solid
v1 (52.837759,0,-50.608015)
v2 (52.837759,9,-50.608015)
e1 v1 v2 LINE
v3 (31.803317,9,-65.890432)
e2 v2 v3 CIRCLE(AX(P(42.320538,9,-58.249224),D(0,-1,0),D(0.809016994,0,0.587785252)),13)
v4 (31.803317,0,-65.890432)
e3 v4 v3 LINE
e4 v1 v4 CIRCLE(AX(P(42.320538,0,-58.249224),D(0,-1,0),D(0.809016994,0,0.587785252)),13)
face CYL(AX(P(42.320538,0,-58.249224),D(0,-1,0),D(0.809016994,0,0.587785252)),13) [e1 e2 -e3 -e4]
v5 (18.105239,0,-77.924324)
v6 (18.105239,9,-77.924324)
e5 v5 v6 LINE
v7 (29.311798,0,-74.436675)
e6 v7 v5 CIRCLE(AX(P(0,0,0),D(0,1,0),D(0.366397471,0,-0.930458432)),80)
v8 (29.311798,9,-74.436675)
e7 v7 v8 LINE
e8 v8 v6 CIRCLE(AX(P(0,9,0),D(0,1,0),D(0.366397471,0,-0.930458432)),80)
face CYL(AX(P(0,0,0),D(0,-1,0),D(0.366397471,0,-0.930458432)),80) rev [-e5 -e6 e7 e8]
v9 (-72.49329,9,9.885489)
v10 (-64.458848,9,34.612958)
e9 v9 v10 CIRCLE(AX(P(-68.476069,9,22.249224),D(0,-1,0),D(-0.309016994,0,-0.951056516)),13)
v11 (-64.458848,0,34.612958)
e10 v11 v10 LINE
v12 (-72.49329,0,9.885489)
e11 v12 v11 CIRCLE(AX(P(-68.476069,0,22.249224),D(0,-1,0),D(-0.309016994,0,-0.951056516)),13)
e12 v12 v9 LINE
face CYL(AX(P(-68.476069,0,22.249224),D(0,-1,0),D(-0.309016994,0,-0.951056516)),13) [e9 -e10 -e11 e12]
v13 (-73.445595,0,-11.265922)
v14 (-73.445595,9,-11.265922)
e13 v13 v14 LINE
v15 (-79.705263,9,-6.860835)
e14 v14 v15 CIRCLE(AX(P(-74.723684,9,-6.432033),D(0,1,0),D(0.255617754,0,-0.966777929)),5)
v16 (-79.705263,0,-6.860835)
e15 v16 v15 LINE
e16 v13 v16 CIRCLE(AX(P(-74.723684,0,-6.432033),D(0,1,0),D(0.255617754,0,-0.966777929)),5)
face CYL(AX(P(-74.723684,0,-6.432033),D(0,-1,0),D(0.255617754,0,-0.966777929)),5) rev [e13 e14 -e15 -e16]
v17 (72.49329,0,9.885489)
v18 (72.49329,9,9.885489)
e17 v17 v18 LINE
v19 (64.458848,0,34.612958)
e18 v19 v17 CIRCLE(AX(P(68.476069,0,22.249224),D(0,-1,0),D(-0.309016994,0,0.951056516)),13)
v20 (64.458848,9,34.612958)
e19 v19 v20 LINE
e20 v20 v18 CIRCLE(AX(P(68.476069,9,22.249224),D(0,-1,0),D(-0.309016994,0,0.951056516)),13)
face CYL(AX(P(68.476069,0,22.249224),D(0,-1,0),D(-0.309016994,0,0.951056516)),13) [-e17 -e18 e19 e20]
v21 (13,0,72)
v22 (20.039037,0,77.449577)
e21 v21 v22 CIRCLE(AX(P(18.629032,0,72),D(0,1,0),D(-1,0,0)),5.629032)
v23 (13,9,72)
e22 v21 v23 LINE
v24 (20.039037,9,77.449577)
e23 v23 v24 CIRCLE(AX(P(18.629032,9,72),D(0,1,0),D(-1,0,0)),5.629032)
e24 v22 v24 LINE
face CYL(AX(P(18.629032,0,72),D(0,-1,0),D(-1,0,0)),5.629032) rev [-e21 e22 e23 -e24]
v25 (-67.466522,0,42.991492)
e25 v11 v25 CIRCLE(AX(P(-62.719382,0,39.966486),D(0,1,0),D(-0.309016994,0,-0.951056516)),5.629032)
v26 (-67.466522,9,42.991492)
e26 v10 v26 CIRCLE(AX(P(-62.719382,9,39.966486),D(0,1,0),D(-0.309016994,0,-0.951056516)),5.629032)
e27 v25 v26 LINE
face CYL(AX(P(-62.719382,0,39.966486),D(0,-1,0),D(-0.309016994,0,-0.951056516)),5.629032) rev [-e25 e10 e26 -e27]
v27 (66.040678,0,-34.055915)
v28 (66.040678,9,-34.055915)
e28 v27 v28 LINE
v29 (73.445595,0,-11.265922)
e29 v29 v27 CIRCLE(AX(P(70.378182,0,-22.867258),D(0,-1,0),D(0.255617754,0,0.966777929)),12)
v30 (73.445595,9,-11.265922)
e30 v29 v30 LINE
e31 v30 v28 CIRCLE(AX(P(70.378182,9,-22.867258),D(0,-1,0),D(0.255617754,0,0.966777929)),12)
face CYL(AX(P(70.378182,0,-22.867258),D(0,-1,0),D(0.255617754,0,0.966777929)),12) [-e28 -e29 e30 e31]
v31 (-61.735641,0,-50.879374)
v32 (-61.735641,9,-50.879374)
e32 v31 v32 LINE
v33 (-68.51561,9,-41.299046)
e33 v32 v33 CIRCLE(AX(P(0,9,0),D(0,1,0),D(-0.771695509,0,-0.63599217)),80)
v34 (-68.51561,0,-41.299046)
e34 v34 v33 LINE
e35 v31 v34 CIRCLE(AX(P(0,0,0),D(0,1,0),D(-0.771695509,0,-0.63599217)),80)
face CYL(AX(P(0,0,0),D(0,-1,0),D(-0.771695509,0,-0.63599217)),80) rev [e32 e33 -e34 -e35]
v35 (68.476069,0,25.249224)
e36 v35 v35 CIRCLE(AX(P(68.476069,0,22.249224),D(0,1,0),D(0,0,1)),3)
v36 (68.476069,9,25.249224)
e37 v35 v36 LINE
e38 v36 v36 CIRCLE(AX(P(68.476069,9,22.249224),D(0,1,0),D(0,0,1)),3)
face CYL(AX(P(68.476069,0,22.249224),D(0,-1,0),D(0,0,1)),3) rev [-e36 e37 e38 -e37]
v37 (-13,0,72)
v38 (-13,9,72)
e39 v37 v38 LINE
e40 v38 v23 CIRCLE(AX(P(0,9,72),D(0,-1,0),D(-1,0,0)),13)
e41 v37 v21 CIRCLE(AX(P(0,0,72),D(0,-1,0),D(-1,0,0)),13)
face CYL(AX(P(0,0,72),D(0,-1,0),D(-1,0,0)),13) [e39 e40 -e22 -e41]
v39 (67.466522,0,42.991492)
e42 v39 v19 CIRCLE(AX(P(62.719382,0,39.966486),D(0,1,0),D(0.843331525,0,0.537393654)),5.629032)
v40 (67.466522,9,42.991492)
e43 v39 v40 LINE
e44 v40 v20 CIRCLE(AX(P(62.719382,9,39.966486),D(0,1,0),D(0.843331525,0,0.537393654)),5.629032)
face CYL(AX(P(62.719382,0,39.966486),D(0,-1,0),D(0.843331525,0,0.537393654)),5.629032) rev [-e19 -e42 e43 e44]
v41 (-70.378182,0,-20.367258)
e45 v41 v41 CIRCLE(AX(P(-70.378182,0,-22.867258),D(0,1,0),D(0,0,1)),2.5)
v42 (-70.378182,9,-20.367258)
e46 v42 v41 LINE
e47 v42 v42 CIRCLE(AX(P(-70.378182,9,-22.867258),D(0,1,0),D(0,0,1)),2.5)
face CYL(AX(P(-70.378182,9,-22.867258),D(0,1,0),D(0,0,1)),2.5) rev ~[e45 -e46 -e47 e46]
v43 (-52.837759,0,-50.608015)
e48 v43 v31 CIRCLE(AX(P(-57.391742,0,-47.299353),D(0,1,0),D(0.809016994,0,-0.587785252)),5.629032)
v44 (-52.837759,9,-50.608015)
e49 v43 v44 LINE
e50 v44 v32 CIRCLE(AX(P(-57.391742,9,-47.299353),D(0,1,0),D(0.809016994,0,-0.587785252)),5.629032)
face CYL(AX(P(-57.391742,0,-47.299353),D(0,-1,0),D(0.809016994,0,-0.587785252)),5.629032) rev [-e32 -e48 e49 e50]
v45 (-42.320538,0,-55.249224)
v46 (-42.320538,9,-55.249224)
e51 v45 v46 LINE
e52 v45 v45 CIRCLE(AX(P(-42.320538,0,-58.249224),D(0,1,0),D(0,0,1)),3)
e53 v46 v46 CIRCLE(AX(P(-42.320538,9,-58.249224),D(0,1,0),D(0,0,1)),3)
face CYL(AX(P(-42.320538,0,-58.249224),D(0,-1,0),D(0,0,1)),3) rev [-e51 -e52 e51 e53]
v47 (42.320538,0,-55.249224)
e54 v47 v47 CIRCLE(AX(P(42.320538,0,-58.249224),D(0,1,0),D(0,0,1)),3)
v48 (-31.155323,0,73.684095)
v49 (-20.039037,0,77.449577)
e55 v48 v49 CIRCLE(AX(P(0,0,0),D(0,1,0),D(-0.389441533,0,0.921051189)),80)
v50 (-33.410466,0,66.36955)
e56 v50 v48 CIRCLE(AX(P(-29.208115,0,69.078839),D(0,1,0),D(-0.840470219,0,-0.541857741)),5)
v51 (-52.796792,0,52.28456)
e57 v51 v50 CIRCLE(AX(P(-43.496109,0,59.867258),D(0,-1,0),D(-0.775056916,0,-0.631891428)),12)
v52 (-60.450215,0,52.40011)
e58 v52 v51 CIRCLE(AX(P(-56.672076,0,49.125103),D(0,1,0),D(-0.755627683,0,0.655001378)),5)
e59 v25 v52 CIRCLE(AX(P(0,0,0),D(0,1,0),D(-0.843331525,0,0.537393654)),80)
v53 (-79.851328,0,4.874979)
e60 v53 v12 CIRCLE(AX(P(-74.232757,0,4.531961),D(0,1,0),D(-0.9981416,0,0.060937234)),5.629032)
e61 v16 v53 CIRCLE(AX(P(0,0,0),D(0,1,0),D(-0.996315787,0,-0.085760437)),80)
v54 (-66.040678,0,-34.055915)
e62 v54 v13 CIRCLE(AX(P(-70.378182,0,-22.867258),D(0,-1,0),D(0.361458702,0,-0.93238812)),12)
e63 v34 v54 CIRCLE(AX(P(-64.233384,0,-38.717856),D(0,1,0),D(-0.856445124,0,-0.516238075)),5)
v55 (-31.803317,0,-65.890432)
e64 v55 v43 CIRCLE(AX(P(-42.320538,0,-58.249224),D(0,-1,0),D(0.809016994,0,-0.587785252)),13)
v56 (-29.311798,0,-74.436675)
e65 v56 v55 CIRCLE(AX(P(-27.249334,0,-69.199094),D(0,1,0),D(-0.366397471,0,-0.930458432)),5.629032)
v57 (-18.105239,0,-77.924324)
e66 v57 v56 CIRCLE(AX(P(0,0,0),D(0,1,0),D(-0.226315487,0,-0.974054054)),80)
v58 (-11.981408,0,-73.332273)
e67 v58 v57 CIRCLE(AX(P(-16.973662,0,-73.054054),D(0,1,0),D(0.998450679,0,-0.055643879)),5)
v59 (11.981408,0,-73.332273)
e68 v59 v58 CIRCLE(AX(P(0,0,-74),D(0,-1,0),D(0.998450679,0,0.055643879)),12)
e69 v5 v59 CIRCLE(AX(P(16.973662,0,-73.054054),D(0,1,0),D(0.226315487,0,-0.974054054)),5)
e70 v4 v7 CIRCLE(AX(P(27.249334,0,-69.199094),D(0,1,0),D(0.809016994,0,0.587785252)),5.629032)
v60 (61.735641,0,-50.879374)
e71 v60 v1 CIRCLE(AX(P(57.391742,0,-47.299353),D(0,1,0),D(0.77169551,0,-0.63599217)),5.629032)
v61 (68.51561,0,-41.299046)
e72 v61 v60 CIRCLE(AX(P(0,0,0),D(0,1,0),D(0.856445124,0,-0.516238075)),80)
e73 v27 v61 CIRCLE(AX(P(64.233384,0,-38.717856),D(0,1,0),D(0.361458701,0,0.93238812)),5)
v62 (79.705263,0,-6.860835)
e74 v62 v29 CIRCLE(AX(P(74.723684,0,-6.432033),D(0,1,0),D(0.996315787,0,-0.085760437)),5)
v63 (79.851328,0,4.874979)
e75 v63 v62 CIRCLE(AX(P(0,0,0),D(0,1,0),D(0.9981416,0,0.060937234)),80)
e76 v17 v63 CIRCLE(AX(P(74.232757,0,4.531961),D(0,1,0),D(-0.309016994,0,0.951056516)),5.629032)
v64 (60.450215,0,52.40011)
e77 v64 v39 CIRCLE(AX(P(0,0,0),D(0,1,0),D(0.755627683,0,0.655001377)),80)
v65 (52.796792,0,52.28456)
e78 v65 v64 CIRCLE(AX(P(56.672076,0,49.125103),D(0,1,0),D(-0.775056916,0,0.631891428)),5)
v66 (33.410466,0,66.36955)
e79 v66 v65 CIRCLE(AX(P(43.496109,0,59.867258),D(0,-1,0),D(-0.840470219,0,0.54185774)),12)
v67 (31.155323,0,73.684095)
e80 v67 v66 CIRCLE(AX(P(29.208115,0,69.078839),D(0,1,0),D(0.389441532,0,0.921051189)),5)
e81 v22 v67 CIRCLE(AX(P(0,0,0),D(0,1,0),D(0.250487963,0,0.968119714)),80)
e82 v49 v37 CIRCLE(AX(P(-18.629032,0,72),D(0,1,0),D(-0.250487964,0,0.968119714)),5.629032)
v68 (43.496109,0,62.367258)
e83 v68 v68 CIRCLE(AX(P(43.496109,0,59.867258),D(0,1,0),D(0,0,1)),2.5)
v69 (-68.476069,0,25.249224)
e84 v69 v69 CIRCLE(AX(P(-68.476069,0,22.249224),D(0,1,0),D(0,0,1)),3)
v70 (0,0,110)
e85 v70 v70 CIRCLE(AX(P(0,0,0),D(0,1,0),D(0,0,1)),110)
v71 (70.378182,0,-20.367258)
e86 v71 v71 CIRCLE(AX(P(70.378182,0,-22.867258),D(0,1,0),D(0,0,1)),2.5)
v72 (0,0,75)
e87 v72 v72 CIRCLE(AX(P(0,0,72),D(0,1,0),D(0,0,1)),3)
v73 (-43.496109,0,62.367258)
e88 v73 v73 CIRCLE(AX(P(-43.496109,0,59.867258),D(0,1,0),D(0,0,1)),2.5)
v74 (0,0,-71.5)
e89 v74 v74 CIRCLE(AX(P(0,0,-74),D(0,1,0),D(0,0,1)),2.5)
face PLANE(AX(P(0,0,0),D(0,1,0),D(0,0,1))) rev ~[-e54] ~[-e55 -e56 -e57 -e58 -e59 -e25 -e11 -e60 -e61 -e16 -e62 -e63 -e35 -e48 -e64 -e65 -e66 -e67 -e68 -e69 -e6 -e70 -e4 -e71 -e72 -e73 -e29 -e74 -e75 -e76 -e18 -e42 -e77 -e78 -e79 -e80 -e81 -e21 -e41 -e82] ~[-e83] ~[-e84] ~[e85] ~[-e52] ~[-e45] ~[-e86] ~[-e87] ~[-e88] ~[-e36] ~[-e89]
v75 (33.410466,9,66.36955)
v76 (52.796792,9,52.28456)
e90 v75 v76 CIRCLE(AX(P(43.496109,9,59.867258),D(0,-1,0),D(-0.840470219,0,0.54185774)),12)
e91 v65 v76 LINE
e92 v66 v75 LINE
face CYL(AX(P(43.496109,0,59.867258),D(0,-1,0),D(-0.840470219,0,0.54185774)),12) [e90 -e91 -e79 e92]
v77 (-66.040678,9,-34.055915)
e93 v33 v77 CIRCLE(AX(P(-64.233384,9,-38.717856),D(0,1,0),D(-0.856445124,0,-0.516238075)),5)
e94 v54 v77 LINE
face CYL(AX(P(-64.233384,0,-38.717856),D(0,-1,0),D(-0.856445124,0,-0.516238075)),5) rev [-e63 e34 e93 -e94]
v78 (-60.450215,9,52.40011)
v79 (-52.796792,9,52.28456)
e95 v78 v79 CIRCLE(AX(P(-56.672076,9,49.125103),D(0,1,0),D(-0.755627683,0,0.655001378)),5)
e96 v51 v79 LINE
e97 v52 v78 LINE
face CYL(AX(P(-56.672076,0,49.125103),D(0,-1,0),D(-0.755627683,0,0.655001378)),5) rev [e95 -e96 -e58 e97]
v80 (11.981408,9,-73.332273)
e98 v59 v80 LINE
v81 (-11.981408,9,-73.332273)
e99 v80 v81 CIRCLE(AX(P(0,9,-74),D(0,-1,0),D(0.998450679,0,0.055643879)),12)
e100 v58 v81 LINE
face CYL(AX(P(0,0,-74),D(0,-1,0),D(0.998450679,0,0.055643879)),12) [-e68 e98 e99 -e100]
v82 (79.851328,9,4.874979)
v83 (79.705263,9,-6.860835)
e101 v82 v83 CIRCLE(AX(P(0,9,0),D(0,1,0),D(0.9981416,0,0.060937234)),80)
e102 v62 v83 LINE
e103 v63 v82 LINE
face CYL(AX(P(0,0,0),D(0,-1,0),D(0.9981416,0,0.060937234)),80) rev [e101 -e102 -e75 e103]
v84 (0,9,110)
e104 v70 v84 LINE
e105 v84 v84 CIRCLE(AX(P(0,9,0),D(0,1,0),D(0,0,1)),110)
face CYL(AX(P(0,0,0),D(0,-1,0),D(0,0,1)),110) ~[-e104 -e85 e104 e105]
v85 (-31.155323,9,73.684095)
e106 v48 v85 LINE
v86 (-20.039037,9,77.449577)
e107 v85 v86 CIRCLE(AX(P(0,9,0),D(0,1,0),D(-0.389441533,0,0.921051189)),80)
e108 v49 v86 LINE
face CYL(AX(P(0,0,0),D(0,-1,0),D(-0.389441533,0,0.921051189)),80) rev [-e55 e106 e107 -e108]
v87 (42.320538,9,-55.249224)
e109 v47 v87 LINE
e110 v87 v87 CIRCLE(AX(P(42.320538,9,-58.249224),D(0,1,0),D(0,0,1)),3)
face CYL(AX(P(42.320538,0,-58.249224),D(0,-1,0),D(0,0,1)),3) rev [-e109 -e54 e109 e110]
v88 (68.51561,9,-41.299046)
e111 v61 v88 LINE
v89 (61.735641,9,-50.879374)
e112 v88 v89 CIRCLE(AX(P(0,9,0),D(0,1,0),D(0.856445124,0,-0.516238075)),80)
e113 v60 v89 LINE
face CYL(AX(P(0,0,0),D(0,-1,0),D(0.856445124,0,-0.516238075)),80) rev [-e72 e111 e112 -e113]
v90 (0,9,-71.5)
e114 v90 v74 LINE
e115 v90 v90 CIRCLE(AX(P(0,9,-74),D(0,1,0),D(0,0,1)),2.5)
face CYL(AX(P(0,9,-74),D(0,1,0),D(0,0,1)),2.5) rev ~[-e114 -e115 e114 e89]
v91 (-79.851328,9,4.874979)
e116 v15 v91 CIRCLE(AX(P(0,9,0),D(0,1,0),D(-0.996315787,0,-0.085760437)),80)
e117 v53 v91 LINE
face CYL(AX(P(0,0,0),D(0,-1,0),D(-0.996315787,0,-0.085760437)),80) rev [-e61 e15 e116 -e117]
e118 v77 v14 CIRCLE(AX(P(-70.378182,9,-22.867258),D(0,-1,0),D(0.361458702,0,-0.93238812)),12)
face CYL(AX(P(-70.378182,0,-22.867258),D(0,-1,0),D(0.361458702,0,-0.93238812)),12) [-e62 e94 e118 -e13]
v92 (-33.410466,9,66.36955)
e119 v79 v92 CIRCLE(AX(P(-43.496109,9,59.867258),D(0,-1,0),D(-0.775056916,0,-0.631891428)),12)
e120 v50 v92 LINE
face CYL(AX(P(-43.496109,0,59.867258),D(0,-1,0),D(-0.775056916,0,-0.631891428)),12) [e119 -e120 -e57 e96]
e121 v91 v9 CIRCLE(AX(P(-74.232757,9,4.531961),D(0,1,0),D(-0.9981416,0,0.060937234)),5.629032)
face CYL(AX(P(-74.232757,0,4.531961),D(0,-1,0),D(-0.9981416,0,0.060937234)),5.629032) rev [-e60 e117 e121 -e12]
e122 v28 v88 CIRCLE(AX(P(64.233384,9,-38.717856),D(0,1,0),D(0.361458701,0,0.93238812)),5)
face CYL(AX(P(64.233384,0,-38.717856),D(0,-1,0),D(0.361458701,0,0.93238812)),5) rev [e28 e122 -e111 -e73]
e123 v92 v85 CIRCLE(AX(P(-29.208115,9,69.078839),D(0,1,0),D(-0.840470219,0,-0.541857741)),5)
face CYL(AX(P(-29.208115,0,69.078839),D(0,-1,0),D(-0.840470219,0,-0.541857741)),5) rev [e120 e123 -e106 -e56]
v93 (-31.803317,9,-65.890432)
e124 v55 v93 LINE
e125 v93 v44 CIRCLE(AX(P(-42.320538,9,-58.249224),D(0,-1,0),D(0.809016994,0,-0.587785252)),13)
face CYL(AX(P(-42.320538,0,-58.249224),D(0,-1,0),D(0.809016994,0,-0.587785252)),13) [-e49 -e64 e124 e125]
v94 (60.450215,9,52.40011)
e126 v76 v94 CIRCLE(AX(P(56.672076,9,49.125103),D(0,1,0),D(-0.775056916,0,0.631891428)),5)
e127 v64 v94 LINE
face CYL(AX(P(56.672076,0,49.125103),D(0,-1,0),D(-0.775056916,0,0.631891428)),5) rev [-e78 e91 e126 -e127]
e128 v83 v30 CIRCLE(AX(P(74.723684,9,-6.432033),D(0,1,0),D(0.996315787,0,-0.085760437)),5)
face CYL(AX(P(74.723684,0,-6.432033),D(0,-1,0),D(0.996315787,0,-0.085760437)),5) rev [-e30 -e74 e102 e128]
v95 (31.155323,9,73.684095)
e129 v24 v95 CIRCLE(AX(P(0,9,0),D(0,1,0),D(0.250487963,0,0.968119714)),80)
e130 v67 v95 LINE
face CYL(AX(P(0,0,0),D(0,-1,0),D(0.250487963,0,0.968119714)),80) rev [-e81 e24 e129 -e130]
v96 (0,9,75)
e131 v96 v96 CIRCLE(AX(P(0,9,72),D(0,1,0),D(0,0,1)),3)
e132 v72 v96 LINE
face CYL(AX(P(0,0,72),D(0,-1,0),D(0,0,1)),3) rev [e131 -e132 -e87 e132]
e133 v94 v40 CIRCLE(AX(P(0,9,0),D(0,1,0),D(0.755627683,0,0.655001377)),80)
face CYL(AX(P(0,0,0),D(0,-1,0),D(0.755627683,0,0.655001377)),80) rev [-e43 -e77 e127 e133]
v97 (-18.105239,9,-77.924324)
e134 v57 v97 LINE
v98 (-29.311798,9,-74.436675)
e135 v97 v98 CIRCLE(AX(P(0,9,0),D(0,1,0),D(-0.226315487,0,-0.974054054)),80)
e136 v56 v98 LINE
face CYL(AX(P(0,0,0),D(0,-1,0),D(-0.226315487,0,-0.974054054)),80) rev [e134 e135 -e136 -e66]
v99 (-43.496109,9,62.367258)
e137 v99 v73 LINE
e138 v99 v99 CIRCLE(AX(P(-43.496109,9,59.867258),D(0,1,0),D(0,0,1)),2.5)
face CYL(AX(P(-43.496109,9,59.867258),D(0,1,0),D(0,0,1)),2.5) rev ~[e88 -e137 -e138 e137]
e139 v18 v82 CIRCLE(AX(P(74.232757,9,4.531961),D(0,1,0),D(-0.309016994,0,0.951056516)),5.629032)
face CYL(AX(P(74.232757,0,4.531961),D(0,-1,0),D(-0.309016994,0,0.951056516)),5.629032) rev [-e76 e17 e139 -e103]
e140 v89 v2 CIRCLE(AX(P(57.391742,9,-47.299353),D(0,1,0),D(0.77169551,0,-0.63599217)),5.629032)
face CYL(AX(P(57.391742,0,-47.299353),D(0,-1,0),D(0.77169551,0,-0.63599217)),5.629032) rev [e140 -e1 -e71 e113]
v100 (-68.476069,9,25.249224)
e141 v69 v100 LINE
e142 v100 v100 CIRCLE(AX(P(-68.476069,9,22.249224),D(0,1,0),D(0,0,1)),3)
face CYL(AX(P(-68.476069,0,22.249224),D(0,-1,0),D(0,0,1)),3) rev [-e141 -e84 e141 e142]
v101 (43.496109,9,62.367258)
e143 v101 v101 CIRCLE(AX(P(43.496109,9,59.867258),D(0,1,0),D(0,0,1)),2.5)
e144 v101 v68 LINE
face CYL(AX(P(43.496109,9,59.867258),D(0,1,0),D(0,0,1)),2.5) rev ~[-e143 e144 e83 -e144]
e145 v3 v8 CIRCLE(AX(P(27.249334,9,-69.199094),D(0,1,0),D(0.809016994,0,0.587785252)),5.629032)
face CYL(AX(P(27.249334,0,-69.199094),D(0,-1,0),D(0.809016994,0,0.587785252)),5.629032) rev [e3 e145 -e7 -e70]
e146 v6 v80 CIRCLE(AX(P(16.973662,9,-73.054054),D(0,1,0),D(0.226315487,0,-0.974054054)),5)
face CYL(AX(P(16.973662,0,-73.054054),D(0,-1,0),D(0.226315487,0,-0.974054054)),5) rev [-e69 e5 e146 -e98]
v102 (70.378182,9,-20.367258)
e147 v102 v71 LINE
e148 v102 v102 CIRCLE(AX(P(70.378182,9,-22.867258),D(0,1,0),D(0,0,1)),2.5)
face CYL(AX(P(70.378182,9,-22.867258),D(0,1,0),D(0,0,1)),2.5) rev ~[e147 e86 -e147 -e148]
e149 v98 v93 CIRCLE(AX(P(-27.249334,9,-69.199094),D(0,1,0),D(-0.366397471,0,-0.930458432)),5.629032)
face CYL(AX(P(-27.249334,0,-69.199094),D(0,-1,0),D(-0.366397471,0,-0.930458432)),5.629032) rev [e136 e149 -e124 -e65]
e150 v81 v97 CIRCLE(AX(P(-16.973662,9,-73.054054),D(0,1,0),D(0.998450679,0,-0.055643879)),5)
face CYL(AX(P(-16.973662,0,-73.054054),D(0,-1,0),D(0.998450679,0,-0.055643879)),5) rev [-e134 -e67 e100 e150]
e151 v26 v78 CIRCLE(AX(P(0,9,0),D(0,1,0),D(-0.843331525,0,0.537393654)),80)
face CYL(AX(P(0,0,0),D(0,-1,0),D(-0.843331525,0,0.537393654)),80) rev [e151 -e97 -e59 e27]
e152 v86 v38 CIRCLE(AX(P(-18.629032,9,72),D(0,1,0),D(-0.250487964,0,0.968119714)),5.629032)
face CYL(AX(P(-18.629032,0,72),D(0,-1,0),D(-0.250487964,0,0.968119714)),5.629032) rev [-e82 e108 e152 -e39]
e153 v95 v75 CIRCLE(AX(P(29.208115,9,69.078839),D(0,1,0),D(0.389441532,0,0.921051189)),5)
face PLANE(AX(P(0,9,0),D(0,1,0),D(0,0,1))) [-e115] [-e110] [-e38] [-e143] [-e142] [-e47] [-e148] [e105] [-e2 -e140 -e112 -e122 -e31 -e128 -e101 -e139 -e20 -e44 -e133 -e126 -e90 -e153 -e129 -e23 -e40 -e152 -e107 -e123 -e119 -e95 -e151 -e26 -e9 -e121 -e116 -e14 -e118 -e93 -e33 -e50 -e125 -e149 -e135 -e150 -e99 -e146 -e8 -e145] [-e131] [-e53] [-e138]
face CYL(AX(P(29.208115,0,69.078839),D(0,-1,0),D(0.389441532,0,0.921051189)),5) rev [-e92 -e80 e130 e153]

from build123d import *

# Parameters (mm, degrees)
SKETCH2_R           = 110
SKETCH2_R_2         = 2
SKETCH2_R_3         = 3
BOSS_EXTRUDE1_DEPTH = 9
SKETCH4_R           = 2.5
CUT_EXTRUDE1_DEPTH  = 156.823618235


with BuildPart() as part:
    # Sketch2 → Boss-Extrude1 (new body)
    with BuildSketch(Plane(origin=(0, 0, 0), x_dir=(1, 0, 0), z_dir=(0, 1, 0))):
        with Locations(Location((0, 0, 0), (0, 0, 270))):
            Circle(SKETCH2_R)
        with Locations(Location((0, 74, 0), (0, 0, 270))):
            Circle(SKETCH2_R_2, mode=Mode.SUBTRACT)
        with Locations(Location((70.378182206, 22.867257584, 0), (0, 0, 270))):
            Circle(SKETCH2_R_2, mode=Mode.SUBTRACT)
        with Locations(Location((43.49610867, -59.867257584, 0), (0, 0, 270))):
            Circle(SKETCH2_R_2, mode=Mode.SUBTRACT)
        with Locations(Location((-43.49610867, -59.867257584, 0), (0, 0, 270))):
            Circle(SKETCH2_R_2, mode=Mode.SUBTRACT)
        with Locations(Location((-70.378182206, 22.867257584, 0), (0, 0, 270))):
            Circle(SKETCH2_R_2, mode=Mode.SUBTRACT)
        with Locations(Location((0, -72, 0), (0, 0, 270))):
            Circle(SKETCH2_R_3, mode=Mode.SUBTRACT)
        with Locations(Location((-68.476069173, -22.249223595, 0), (0, 0, 270))):
            Circle(SKETCH2_R_3, mode=Mode.SUBTRACT)
        with Locations(Location((-42.320538165, 58.249223595, 0), (0, 0, 270))):
            Circle(SKETCH2_R_3, mode=Mode.SUBTRACT)
        with Locations(Location((42.320538165, 58.249223595, 0), (0, 0, 270))):
            Circle(SKETCH2_R_3, mode=Mode.SUBTRACT)
        with Locations(Location((68.476069173, -22.249223595, 0), (0, 0, 270))):
            Circle(SKETCH2_R_3, mode=Mode.SUBTRACT)
        with BuildLine():
            ThreePointArc((-18.105238982, 77.924324324), (-23.772563309, 76.386289567), (-29.311797662, 74.436674548))
            ThreePointArc((-29.311797662, 74.436674548), (-32.653398245, 70.774561882), (-31.803317238, 65.890431875))
            ThreePointArc((-31.803317238, 65.890431875), (-34.679329885, 47.732002668), (-52.837759092, 50.608015315))
            ThreePointArc((-52.837759092, 50.608015315), (-57.220153284, 52.925769571), (-61.735640767, 50.879373611))
            ThreePointArc((-61.735640767, 50.879373611), (-65.301552386, 46.213712857), (-68.515609894, 41.299046004))
            ThreePointArc((-68.515609894, 41.299046004), (-68.964800278, 37.101160663), (-66.040677784, 34.055915028))
            ThreePointArc((-66.040677784, 34.055915028), (-58.96550401, 19.159053651), (-73.445595254, 11.265922437))
            ThreePointArc((-73.445595254, 11.265922437), (-77.601210519, 10.521023043), (-79.705262959, 6.860834978))
            ThreePointArc((-79.705262959, 6.860834978), (-79.99380451, 0.99561037), (-79.851327994, -4.87497873))
            ThreePointArc((-79.851327994, -4.87497873), (-77.401063247, -9.184684789), (-72.4932901, -9.885488883))
            ThreePointArc((-72.4932901, -9.885488883), (-56.112334461, -18.232002668), (-64.458848246, -34.612958307))
            ThreePointArc((-64.458848246, -34.612958307), (-68.017397816, -38.064637406), (-67.466521973, -42.991492331))
            ThreePointArc((-67.466521973, -42.991492331), (-64.131142201, -47.824644275), (-60.450214656, -52.400110191))
            ThreePointArc((-60.450214656, -52.400110191), (-56.59659591, -54.124533543), (-52.796791661, -52.284560445))
            ThreePointArc((-52.796791661, -52.284560445), (-36.442685642, -50.159053651), (-33.410466041, -66.369550469))
            ThreePointArc((-33.410466041, -66.369550469), (-33.986180358, -70.551962018), (-31.155322609, -73.684095116))
            ThreePointArc((-31.155322609, -73.684095116), (-25.666326768, -75.770968519), (-20.039037085, -77.449577098))
            ThreePointArc((-20.039037085, -77.449577098), (-15.183089607, -76.451009257), (-13, -72))
            ThreePointArc((-13, -72), (0, -59), (13, -72))
            ThreePointArc((13, -72), (15.183089607, -76.451009257), (20.039037085, -77.449577098))
            ThreePointArc((20.039037085, -77.449577098), (25.666326768, -75.770968519), (31.155322609, -73.684095116))
            ThreePointArc((31.155322609, -73.684095116), (33.986180358, -70.551962018), (33.410466041, -66.369550469))
            ThreePointArc((33.410466041, -66.369550469), (36.442685642, -50.159053651), (52.796791661, -52.284560445))
            ThreePointArc((52.796791661, -52.284560445), (56.59659591, -54.124533543), (60.450214656, -52.400110191))
            ThreePointArc((60.450214656, -52.400110191), (64.131142201, -47.824644275), (67.466521973, -42.991492331))
            ThreePointArc((67.466521973, -42.991492331), (68.017397816, -38.064637406), (64.458848246, -34.612958307))
            ThreePointArc((64.458848246, -34.612958307), (56.112334461, -18.232002668), (72.4932901, -9.885488883))
            ThreePointArc((72.4932901, -9.885488883), (77.401063247, -9.184684789), (79.851327994, -4.87497873))
            ThreePointArc((79.851327994, -4.87497873), (79.99380451, 0.99561037), (79.705262959, 6.860834978))
            ThreePointArc((79.705262959, 6.860834978), (77.601210519, 10.521023043), (73.445595254, 11.265922437))
            ThreePointArc((73.445595254, 11.265922437), (58.96550401, 19.159053651), (66.040677784, 34.055915028))
            ThreePointArc((66.040677784, 34.055915028), (68.964800278, 37.101160663), (68.515609894, 41.299046004))
            ThreePointArc((68.515609894, 41.299046004), (65.301552386, 46.213712857), (61.735640767, 50.879373611))
            ThreePointArc((61.735640767, 50.879373611), (57.220153284, 52.925769571), (52.837759092, 50.608015315))
            ThreePointArc((52.837759092, 50.608015315), (34.679329885, 47.732002668), (31.803317238, 65.890431875))
            ThreePointArc((31.803317238, 65.890431875), (32.653398245, 70.774561882), (29.311797662, 74.436674548))
            ThreePointArc((29.311797662, 74.436674548), (23.772563309, 76.386289567), (18.105238982, 77.924324324))
            ThreePointArc((18.105238982, 77.924324324), (13.974005311, 77.054311855), (11.98140815, 73.33227345))
            ThreePointArc((11.98140815, 73.33227345), (0, 62), (-11.98140815, 73.33227345))
            ThreePointArc((-11.98140815, 73.33227345), (-13.974005311, 77.054311855), (-18.105238982, 77.924324324))
        make_face(mode=Mode.SUBTRACT)
    extrude(amount=BOSS_EXTRUDE1_DEPTH)

    # Sketch4 → Cut-Extrude1 (cut, through all)
    with BuildSketch(Plane(origin=(0, 9, 0), x_dir=(1, 0, 0), z_dir=(0, 1, 0))):
        with Locations(Location((0, 74, 0), (0, 0, 270))):
            Circle(SKETCH4_R)
        with Locations(Location((70.378182206, 22.867257584, 0), (0, 0, 270))):
            Circle(SKETCH4_R)
        with Locations(Location((43.49610867, -59.867257584, 0), (0, 0, 270))):
            Circle(SKETCH4_R)
        with Locations(Location((-43.49610867, -59.867257584, 0), (0, 0, 270))):
            Circle(SKETCH4_R)
        with Locations(Location((-70.378182206, 22.867257584, 0), (0, 0, 270))):
            Circle(SKETCH4_R)
    extrude(amount=-CUT_EXTRUDE1_DEPTH, mode=Mode.SUBTRACT)


solid = part.part
